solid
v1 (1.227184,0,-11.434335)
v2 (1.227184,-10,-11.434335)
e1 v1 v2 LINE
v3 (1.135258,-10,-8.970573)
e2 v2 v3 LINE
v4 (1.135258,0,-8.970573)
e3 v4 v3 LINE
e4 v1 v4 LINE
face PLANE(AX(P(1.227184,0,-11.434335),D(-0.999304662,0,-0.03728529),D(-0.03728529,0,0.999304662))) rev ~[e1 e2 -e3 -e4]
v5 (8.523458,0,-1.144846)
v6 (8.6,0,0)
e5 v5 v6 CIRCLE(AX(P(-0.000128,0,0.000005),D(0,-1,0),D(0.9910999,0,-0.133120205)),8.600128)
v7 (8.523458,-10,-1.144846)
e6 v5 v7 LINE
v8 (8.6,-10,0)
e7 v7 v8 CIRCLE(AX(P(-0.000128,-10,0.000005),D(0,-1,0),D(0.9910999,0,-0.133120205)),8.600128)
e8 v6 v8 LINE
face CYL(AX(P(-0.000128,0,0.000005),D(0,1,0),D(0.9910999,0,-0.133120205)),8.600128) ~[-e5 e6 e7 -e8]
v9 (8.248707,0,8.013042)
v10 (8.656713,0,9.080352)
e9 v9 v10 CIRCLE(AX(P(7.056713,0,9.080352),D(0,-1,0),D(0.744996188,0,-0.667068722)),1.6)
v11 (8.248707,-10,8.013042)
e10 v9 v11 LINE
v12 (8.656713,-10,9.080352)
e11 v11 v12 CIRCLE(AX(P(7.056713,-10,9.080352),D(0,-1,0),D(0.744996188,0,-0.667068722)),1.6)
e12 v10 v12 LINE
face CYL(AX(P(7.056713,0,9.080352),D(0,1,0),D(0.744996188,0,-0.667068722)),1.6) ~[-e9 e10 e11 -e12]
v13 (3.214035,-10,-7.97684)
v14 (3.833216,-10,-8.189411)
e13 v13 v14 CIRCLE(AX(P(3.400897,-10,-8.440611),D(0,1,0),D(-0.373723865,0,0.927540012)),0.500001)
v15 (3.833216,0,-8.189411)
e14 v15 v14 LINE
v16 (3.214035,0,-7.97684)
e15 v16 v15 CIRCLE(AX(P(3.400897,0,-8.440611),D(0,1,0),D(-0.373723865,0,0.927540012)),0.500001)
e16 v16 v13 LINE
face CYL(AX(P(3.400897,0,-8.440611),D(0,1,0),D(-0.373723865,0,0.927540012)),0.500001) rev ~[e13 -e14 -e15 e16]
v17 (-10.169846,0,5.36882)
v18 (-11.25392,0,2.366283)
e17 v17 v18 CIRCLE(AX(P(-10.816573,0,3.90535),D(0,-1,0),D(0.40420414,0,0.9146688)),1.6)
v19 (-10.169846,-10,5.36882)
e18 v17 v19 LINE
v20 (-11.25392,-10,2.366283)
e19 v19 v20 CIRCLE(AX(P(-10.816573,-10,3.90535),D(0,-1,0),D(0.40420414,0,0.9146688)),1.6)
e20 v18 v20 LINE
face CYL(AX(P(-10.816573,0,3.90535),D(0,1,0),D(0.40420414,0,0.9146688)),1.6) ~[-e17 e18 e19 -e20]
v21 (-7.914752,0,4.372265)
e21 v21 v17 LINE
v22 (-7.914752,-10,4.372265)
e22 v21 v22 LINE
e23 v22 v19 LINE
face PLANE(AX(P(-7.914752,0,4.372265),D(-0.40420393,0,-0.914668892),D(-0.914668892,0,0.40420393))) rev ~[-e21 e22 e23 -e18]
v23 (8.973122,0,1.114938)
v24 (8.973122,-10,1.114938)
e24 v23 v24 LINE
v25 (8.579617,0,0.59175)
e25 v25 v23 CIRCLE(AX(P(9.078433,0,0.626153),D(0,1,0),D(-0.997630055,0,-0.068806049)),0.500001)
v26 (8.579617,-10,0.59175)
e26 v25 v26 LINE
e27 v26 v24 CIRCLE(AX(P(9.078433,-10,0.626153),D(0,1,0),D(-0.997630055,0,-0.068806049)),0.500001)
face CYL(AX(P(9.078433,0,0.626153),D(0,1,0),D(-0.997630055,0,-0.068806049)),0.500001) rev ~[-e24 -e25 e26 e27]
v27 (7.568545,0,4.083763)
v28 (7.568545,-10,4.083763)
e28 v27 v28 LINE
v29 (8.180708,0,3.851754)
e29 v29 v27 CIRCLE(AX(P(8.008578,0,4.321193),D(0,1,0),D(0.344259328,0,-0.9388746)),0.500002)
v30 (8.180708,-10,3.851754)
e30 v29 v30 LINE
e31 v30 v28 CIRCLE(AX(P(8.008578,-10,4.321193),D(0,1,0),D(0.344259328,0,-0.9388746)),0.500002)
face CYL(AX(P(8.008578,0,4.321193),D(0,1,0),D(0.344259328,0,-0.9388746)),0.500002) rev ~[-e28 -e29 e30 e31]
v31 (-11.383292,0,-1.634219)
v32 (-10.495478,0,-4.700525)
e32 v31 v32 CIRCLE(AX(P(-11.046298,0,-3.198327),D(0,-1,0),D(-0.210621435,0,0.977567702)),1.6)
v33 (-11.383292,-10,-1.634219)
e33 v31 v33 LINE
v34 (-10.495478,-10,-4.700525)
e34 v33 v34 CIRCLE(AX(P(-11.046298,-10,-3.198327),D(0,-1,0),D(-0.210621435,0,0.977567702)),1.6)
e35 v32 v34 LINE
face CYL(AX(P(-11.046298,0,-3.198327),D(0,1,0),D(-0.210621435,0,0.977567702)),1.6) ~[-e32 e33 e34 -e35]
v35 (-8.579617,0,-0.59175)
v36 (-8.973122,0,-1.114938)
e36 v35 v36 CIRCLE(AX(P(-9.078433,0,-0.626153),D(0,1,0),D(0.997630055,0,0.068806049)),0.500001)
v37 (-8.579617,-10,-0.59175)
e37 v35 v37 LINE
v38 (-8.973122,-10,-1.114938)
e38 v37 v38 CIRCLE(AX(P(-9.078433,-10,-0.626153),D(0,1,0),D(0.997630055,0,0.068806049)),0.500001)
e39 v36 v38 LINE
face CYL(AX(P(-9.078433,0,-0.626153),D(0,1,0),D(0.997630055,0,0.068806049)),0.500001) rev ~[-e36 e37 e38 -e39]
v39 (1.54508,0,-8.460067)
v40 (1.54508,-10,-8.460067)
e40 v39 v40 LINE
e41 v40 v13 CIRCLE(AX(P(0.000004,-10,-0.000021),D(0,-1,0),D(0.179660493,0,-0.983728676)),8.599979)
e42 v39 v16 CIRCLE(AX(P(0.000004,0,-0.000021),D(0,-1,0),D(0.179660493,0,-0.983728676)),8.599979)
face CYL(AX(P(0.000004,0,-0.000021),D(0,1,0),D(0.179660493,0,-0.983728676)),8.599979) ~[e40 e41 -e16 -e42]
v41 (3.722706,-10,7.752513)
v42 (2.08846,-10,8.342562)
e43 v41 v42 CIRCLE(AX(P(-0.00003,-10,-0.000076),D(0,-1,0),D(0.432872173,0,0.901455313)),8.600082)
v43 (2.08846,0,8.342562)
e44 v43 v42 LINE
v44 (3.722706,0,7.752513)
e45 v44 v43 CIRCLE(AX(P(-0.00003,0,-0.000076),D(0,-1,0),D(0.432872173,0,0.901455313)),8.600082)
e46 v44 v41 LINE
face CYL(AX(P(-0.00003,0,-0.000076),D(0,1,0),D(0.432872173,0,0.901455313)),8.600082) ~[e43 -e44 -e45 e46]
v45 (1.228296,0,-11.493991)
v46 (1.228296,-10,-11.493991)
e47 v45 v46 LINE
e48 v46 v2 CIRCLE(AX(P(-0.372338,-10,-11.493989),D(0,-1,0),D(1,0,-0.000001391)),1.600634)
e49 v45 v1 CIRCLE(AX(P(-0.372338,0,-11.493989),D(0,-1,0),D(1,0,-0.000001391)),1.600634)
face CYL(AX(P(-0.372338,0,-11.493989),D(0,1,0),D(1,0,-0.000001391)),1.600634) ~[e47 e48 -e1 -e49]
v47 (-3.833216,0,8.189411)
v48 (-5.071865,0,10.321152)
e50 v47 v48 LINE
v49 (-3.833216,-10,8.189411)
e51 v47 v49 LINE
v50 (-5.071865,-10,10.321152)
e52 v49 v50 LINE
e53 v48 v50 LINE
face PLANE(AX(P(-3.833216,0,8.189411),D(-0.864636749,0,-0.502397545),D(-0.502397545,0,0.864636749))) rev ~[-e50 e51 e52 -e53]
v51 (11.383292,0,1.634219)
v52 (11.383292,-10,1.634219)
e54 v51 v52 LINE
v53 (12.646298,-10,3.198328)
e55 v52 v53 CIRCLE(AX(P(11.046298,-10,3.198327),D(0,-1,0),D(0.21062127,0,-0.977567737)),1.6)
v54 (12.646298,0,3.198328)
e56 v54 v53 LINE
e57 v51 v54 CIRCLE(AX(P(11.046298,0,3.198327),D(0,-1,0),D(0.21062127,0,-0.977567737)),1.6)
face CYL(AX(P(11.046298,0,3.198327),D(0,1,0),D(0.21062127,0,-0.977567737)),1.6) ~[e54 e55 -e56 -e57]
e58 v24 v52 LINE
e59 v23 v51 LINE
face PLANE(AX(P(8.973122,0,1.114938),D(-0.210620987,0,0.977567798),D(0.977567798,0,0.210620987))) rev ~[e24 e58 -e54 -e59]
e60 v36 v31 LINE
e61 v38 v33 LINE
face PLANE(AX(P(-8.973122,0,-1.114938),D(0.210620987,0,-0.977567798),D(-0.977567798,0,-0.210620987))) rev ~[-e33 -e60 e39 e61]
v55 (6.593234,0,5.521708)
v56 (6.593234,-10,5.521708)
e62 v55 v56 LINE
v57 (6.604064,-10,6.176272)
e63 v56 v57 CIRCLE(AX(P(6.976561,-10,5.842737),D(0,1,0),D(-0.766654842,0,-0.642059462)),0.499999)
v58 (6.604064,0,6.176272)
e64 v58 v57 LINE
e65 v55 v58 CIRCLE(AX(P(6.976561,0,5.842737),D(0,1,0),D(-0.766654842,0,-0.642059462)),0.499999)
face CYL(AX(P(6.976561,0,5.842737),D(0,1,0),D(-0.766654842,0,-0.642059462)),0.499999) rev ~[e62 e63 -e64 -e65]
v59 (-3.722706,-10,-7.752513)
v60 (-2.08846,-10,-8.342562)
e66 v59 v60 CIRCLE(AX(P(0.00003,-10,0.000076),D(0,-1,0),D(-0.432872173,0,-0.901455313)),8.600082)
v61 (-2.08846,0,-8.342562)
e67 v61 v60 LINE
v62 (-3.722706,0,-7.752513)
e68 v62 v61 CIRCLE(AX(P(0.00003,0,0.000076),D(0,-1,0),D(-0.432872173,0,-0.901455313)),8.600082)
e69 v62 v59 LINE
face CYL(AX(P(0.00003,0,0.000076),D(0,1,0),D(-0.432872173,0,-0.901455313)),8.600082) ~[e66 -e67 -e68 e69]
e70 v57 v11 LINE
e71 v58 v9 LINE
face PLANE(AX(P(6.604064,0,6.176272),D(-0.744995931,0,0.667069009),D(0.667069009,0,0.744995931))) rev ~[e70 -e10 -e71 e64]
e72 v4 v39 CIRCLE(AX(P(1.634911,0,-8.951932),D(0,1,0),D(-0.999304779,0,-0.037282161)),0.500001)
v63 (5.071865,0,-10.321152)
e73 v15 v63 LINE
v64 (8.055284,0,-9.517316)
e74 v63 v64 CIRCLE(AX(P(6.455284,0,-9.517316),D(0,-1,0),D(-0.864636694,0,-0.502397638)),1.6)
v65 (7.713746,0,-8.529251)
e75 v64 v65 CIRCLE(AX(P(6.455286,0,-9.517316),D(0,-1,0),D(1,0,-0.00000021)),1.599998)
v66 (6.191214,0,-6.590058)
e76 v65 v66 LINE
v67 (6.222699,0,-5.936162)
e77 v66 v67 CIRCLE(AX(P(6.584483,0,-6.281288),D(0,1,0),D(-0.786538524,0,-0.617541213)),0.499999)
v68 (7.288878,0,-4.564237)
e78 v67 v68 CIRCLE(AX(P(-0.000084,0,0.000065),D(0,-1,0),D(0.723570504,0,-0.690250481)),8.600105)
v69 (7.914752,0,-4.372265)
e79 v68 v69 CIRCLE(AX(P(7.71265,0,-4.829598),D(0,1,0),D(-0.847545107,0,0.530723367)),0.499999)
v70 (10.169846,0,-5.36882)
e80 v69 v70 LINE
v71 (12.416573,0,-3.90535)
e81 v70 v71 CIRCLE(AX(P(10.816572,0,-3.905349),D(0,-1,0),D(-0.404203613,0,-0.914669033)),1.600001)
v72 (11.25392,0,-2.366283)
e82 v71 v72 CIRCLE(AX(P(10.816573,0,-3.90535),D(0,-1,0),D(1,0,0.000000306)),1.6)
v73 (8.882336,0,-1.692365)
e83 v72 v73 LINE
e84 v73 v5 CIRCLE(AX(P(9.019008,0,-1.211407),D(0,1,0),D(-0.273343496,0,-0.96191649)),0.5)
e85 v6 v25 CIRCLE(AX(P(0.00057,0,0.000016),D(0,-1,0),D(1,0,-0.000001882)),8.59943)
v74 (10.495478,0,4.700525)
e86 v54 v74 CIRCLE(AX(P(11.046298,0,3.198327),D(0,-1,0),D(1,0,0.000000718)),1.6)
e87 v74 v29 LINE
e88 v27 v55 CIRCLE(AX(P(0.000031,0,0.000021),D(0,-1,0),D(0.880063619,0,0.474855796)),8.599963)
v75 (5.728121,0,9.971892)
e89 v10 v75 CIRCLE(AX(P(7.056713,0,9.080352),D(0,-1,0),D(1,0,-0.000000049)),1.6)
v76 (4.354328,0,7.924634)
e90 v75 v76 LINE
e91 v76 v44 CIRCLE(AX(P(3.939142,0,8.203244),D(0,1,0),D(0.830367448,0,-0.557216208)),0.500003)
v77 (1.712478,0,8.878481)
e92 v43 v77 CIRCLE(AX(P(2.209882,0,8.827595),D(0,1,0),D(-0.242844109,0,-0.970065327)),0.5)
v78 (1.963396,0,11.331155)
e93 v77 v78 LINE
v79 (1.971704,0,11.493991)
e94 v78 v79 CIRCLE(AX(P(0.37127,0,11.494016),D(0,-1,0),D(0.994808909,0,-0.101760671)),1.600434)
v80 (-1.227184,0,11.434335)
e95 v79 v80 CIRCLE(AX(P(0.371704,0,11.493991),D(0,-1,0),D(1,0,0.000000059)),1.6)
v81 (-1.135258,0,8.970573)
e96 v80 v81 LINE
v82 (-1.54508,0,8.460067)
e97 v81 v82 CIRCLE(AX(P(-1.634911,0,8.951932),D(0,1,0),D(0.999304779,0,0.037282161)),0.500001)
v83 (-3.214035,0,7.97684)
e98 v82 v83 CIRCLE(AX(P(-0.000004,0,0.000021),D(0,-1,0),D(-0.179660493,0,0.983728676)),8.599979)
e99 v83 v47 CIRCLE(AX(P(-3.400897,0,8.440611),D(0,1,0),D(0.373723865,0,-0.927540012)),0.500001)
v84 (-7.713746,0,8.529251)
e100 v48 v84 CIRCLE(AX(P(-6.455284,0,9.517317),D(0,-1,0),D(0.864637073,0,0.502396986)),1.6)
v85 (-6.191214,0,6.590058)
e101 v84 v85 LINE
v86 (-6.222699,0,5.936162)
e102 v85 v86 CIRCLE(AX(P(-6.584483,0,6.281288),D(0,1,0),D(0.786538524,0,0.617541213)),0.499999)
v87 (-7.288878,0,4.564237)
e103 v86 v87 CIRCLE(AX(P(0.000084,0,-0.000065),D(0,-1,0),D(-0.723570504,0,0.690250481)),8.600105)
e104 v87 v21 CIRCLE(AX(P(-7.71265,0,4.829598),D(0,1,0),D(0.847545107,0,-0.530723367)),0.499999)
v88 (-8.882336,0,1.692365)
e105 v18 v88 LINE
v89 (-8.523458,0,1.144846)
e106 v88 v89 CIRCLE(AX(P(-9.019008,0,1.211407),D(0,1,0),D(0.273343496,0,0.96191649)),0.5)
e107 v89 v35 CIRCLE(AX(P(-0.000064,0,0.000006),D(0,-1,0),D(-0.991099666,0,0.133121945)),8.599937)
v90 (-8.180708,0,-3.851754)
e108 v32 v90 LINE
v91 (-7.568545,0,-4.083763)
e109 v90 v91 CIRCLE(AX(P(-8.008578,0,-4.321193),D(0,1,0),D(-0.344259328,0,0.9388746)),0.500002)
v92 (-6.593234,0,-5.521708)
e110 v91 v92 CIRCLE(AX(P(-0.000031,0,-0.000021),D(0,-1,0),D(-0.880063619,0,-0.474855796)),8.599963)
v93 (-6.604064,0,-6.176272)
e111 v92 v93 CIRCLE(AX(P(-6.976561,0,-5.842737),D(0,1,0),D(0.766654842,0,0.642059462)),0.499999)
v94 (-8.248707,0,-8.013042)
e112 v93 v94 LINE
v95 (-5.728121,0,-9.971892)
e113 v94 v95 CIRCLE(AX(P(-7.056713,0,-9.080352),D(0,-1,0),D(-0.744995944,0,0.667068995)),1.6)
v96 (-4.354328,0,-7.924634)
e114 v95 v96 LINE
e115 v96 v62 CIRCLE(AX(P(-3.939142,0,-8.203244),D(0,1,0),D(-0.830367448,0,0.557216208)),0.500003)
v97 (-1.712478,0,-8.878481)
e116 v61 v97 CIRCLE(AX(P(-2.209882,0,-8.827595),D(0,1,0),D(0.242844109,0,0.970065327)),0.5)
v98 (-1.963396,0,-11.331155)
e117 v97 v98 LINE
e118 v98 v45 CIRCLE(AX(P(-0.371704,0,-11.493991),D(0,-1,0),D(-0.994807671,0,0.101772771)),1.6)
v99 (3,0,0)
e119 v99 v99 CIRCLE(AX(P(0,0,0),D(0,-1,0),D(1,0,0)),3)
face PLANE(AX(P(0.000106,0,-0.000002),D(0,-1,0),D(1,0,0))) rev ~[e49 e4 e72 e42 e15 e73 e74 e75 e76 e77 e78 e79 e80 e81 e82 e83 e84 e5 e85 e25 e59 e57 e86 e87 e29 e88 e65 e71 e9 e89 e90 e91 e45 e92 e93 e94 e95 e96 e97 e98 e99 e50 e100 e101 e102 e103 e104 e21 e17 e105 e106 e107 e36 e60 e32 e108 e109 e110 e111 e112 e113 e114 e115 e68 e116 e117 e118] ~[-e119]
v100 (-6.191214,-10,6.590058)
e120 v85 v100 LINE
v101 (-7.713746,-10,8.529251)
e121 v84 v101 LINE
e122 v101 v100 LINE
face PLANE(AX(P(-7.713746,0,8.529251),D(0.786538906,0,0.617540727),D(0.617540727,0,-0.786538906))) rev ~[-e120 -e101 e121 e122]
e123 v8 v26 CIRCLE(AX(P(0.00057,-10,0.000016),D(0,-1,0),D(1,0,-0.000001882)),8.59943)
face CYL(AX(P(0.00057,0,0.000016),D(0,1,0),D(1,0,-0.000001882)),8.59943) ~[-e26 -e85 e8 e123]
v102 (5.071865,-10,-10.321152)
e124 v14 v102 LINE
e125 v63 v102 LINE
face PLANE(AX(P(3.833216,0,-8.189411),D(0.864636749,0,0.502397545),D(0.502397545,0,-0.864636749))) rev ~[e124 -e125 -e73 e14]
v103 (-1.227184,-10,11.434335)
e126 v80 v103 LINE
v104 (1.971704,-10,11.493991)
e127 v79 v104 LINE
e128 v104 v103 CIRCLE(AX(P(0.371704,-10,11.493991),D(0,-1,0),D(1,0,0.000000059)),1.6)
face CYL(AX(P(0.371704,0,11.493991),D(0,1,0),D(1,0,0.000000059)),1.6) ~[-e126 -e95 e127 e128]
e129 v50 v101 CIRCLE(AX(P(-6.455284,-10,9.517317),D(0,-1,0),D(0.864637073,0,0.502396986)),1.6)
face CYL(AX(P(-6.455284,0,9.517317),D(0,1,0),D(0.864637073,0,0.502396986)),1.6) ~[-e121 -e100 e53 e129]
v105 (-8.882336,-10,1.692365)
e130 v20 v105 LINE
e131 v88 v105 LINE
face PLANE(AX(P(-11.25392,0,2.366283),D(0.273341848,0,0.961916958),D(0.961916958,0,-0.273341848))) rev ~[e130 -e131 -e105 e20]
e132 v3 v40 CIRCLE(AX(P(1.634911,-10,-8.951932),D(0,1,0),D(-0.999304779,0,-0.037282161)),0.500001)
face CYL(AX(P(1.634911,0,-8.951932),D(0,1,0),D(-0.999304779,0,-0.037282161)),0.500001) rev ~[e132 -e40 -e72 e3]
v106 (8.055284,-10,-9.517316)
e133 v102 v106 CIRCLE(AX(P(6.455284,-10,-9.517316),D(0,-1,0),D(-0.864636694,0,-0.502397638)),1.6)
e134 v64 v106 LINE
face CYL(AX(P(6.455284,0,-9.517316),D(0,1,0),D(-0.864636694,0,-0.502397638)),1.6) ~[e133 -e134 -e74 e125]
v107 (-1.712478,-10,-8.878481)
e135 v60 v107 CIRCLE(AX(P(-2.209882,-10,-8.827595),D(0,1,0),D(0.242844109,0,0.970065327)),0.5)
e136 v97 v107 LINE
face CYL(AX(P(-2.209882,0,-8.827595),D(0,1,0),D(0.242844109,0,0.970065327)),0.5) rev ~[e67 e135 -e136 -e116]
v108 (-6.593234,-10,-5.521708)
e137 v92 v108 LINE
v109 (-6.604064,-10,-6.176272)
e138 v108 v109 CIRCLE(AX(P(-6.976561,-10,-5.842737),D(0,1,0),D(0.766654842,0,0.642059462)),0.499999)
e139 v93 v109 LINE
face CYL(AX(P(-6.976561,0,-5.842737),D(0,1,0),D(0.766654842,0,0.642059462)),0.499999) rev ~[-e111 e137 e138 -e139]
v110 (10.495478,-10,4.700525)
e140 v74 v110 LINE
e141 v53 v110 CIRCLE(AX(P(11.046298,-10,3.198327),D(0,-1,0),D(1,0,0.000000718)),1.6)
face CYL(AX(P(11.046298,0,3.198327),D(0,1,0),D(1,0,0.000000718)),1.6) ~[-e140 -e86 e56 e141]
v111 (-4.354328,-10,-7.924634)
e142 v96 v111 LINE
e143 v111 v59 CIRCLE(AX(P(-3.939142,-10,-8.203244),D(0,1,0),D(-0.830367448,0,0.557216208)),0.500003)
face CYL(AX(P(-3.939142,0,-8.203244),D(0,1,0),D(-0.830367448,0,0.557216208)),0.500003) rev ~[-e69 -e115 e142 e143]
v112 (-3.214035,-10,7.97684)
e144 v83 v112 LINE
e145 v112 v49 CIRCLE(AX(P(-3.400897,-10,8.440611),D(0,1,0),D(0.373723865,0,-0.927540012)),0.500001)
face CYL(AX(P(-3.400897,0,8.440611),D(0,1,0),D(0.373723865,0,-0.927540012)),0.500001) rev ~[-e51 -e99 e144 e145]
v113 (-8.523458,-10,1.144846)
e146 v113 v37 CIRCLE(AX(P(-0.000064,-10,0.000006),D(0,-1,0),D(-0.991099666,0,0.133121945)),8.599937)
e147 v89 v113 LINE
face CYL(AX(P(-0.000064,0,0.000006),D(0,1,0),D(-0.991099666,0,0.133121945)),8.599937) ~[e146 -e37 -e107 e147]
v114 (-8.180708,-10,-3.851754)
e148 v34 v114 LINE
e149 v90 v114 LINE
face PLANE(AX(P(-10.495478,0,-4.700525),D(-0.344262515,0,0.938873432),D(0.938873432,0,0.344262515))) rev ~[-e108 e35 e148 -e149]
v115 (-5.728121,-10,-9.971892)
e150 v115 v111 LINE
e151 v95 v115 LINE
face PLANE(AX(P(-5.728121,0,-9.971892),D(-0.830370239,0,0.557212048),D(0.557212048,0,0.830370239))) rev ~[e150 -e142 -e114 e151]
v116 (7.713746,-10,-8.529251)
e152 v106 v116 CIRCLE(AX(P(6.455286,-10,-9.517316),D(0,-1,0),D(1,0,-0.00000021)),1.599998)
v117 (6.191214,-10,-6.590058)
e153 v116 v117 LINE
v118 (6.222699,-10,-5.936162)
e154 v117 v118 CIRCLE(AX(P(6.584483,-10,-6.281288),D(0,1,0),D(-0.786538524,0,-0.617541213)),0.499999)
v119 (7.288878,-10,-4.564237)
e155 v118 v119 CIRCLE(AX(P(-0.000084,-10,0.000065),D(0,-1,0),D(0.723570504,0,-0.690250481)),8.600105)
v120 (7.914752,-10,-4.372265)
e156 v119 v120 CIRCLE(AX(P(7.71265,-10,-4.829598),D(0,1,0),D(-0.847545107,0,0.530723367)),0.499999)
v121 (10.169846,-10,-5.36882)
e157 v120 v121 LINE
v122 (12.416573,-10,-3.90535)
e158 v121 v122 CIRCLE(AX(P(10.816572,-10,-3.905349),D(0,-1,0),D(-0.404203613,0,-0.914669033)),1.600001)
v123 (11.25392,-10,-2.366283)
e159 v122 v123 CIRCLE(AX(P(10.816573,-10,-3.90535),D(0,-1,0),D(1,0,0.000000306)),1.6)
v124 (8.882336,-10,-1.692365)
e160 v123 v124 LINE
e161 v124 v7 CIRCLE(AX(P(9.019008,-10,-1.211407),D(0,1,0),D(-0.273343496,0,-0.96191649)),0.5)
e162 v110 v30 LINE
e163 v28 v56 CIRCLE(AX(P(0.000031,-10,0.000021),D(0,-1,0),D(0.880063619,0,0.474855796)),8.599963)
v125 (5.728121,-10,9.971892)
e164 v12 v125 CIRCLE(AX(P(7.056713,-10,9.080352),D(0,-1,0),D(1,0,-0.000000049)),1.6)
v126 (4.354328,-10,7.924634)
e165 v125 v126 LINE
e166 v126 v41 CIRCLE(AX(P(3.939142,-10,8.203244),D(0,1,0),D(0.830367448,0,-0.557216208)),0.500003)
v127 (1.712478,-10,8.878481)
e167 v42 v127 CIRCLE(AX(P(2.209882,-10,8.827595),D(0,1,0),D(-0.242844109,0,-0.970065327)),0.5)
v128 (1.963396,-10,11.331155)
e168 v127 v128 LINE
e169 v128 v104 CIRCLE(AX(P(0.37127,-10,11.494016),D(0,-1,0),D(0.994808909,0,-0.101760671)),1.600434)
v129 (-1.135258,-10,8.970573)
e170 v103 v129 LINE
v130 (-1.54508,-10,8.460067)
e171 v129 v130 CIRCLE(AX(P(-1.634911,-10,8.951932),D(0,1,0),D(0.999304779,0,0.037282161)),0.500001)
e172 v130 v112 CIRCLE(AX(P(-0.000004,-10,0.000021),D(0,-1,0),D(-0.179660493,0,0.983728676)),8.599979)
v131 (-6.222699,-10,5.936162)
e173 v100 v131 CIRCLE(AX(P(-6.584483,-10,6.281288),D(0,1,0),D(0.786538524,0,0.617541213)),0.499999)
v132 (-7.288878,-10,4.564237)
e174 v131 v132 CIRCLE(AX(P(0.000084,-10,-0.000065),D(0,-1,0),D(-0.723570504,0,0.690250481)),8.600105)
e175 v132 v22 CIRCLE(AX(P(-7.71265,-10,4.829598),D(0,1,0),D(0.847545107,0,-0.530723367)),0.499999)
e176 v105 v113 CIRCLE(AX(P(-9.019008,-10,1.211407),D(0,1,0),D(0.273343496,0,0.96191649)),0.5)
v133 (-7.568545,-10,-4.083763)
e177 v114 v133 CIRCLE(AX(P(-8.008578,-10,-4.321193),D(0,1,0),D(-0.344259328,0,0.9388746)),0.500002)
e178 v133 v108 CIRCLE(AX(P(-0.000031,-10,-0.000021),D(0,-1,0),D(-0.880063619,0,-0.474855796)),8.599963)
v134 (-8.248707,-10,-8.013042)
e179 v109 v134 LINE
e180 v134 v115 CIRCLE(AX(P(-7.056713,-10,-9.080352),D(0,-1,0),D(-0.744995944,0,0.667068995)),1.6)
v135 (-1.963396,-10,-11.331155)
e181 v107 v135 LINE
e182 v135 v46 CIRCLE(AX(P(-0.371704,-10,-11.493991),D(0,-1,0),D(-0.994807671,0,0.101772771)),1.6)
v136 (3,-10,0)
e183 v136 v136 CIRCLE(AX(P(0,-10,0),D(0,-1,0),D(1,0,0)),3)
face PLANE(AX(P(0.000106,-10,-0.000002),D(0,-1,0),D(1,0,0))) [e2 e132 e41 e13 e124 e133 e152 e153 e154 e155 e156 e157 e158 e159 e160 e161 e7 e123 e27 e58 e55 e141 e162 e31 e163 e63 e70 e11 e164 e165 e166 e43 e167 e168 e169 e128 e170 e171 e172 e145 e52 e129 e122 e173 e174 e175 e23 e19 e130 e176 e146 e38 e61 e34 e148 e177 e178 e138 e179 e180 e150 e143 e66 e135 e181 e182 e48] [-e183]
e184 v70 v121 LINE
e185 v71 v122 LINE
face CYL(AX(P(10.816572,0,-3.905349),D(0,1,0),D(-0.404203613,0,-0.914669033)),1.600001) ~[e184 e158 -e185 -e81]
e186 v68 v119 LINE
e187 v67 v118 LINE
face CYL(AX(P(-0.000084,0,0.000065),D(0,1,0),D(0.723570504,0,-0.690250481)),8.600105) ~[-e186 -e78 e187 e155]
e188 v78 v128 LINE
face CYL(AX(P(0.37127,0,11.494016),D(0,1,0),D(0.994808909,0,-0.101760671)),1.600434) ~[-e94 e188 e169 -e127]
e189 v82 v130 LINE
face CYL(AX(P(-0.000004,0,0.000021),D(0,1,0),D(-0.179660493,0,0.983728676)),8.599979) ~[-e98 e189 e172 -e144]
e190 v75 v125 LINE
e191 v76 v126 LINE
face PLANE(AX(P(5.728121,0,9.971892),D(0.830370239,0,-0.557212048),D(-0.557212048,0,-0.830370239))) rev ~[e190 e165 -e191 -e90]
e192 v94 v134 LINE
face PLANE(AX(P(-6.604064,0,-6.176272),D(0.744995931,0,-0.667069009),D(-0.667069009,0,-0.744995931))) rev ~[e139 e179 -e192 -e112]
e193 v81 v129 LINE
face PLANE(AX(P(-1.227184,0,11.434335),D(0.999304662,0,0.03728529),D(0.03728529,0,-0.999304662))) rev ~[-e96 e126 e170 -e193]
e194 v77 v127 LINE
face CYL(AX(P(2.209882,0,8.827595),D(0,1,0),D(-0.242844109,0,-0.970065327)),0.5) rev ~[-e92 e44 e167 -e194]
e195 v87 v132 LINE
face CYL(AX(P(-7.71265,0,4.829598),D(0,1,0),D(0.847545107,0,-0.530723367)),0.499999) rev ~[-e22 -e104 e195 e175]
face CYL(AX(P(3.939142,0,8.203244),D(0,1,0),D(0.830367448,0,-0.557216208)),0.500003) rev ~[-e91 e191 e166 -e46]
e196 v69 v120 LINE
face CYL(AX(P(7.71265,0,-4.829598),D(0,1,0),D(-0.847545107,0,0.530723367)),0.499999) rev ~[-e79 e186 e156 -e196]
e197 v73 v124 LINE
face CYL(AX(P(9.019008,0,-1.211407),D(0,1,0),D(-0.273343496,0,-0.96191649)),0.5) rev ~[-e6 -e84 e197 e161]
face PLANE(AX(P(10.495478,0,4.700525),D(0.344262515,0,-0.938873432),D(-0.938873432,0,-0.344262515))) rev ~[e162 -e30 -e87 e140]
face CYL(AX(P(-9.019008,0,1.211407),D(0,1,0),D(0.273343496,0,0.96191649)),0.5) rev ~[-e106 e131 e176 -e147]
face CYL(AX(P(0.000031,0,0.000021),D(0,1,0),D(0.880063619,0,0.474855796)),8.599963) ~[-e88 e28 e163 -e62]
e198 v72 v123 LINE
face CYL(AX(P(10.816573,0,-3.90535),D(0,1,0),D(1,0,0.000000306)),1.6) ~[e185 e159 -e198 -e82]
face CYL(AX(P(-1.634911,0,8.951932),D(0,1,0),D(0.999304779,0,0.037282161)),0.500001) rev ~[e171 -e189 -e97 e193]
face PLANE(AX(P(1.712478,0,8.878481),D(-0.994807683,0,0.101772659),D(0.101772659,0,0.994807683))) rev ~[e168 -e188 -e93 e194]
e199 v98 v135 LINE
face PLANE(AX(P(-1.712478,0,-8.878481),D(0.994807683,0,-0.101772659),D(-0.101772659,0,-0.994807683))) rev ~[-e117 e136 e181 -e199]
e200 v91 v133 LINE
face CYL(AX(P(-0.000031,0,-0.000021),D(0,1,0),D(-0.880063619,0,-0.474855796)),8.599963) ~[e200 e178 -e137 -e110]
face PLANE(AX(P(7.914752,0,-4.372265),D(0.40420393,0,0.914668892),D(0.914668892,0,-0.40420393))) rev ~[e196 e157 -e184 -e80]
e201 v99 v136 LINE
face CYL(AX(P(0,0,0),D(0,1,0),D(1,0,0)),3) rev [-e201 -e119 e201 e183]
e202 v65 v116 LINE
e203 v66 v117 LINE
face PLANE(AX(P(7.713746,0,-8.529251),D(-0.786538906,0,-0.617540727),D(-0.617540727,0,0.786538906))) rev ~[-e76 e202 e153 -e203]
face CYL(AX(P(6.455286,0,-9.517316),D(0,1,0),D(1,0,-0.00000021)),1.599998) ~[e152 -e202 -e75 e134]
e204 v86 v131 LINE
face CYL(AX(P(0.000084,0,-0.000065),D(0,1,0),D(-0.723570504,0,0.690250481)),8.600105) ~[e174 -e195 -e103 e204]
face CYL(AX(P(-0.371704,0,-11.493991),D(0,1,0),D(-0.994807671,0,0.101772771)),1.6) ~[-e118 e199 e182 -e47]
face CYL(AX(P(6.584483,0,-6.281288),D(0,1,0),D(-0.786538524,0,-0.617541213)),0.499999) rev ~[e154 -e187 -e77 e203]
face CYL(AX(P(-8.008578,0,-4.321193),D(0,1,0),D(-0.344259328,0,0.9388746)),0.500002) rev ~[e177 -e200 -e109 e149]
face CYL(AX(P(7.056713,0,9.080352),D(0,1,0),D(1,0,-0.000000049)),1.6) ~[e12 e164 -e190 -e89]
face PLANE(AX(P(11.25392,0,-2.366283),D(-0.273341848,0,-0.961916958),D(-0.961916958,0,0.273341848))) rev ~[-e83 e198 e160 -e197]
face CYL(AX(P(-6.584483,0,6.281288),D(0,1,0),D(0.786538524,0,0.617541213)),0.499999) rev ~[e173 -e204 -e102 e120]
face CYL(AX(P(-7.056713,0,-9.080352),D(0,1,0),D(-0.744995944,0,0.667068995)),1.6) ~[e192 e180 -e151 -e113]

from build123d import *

# Parameters (mm, degrees)
F0_R     = 3
F1_DEPTH = 10


with BuildPart() as f1:
    # F0 (on Front) → F1 (new body)
    with BuildSketch(Plane.XZ):
        with BuildLine():
            ThreePointArc((8.523458, -1.144846), (8.580843, -0.573701), (8.6, 0))
            ThreePointArc((8.6, 0), (8.594903, 0.296051), (8.579617, 0.59175))
            ThreePointArc((8.579617, 0.59175), (8.26071, 2.391793), (7.568545, 4.083763))
            ThreePointArc((7.568545, 4.083763), (7.117297, 4.82743), (6.593234, 5.521708))
            ThreePointArc((6.593234, 5.521708), (5.277194, 6.790524), (3.722706, 7.752513))
            ThreePointArc((3.722706, 7.752513), (2.920522, 8.088915), (2.08846, 8.342562))
            ThreePointArc((2.08846, 8.342562), (0.27797, 8.595507), (-1.54508, 8.460067))
            ThreePointArc((-1.54508, 8.460067), (-2.391793, 8.26071), (-3.214035, 7.97684))
            ThreePointArc((-3.214035, 7.97684), (-4.82743, 7.117297), (-6.222699, 5.936162))
            ThreePointArc((-6.222699, 5.936162), (-6.790524, 5.277194), (-7.288878, 4.564237))
            ThreePointArc((-7.288878, 4.564237), (-8.088915, 2.920522), (-8.523458, 1.144846))
            ThreePointArc((-8.523458, 1.144846), (-8.595507, 0.27797), (-8.579617, -0.59175))
            ThreePointArc((-8.579617, -0.59175), (-8.26071, -2.391793), (-7.568545, -4.083763))
            ThreePointArc((-7.568545, -4.083763), (-7.117297, -4.82743), (-6.593234, -5.521708))
            ThreePointArc((-6.593234, -5.521708), (-5.277194, -6.790524), (-3.722706, -7.752513))
            ThreePointArc((-3.722706, -7.752513), (-2.920522, -8.088915), (-2.08846, -8.342562))
            ThreePointArc((-2.08846, -8.342562), (-0.27797, -8.595507), (1.54508, -8.460067))
            ThreePointArc((1.54508, -8.460067), (2.391793, -8.26071), (3.214035, -7.97684))
            ThreePointArc((3.214035, -7.97684), (4.82743, -7.117297), (6.222699, -5.936162))
            ThreePointArc((6.222699, -5.936162), (6.790524, -5.277194), (7.288878, -4.564237))
            ThreePointArc((7.288878, -4.564237), (8.088915, -2.920522), (8.523458, -1.144846))
        make_face()
        Circle(F0_R, mode=Mode.SUBTRACT)
        with BuildLine():
            ThreePointArc((7.568545, 4.083763), (8.26071, 2.391793), (8.579617, 0.59175))
            ThreePointArc((8.579617, 0.59175), (8.678841, 0.926698), (8.973122, 1.114938))
            Line((8.973122, 1.114938), (11.383292, 1.634219))
            ThreePointArc((11.383292, 1.634219), (9.509422, 2.753343), (10.495478, 4.700525))
            Line((10.495478, 4.700525), (8.180708, 3.851754))
            ThreePointArc((8.180708, 3.851754), (7.831378, 3.853644), (7.568545, 4.083763))
        make_face()
        with BuildLine():
            ThreePointArc((8.882336, -1.692365), (8.600833, -1.485505), (8.523458, -1.144846))
            ThreePointArc((8.523458, -1.144846), (8.088915, -2.920522), (7.288878, -4.564237))
            ThreePointArc((7.288878, -4.564237), (7.566029, -4.35158), (7.914752, -4.372265))
            Line((7.914752, -4.372265), (10.169846, -5.36882))
            ThreePointArc((10.169846, -5.36882), (9.311658, -3.361997), (11.25392, -2.366283))
            Line((11.25392, -2.366283), (8.882336, -1.692365))
        make_face()
        with BuildLine():
            ThreePointArc((3.722706, 7.752513), (5.277194, 6.790524), (6.593234, 5.521708))
            ThreePointArc((6.593234, 5.521708), (6.47663, 5.851009), (6.604064, 6.176272))
            Line((6.604064, 6.176272), (8.248707, 8.013042))
            ThreePointArc((8.248707, 8.013042), (6.07491, 7.816999), (5.728121, 9.971892))
            Line((5.728121, 9.971892), (4.354328, 7.924634))
            ThreePointArc((4.354328, 7.924634), (4.070602, 7.720832), (3.722706, 7.752513))
        make_face()
        with BuildLine():
            ThreePointArc((10.495478, 4.700525), (9.509422, 2.753343), (11.383292, 1.634219))
            ThreePointArc((11.383292, 1.634219), (12.291125, 2.193138), (12.646298, 3.198328))
            ThreePointArc((12.646298, 3.198328), (11.962455, 4.510065), (10.495478, 4.700525))
        make_face()
        with BuildLine():
            ThreePointArc((6.191214, -6.590058), (6.085062, -6.257241), (6.222699, -5.936162))
            ThreePointArc((6.222699, -5.936162), (4.82743, -7.117297), (3.214035, -7.97684))
            ThreePointArc((3.214035, -7.97684), (3.563252, -7.967703), (3.833216, -8.189411))
            Line((3.833216, -8.189411), (5.071865, -10.321152))
            ThreePointArc((5.071865, -10.321152), (5.557158, -8.193168), (7.713746, -8.529251))
            Line((7.713746, -8.529251), (6.191214, -6.590058))
        make_face()
        with BuildLine():
            ThreePointArc((12.416573, -3.90535), (12.093239, -2.940921), (11.25392, -2.366283))
            ThreePointArc((11.25392, -2.366283), (9.311658, -3.361997), (10.169846, -5.36882))
            ThreePointArc((10.169846, -5.36882), (11.689853, -5.246014), (12.416573, -3.90535))
        make_face()
        with BuildLine():
            ThreePointArc((-1.54508, 8.460067), (0.27797, 8.595507), (2.08846, 8.342562))
            ThreePointArc((2.08846, 8.342562), (1.800567, 8.540434), (1.712478, 8.878481))
            Line((1.712478, 8.878481), (1.963396, 11.331155))
            ThreePointArc((1.963396, 11.331155), (0.319988, 9.894827), (-1.227184, 11.434335))
            Line((-1.227184, 11.434335), (-1.135258, 8.970573))
            ThreePointArc((-1.135258, 8.970573), (-1.245005, 8.638924), (-1.54508, 8.460067))
        make_face()
        with BuildLine():
            ThreePointArc((5.728121, 9.971892), (6.07491, 7.816999), (8.248707, 8.013042))
            ThreePointArc((8.248707, 8.013042), (8.551235, 8.509034), (8.656713, 9.080352))
            ThreePointArc((8.656713, 9.080352), (7.522681, 10.610997), (5.728121, 9.971892))
        make_face()
        with BuildLine():
            ThreePointArc((1.135258, -8.970573), (1.245005, -8.638924), (1.54508, -8.460067))
            ThreePointArc((1.54508, -8.460067), (-0.27797, -8.595507), (-2.08846, -8.342562))
            ThreePointArc((-2.08846, -8.342562), (-1.800567, -8.540434), (-1.712478, -8.878481))
            Line((-1.712478, -8.878481), (-1.963396, -11.331155))
            ThreePointArc((-1.963396, -11.331155), (-0.319988, -9.894827), (1.227184, -11.434335))
            Line((1.227184, -11.434335), (1.135258, -8.970573))
        make_face()
        with BuildLine():
            ThreePointArc((8.055284, -9.517316), (7.967491, -8.994602), (7.713746, -8.529251))
            ThreePointArc((7.713746, -8.529251), (5.557158, -8.193168), (5.071865, -10.321152))
            ThreePointArc((5.071865, -10.321152), (6.871535, -11.062222), (8.055284, -9.517316))
        make_face()
        with BuildLine():
            ThreePointArc((-6.222699, 5.936162), (-4.82743, 7.117297), (-3.214035, 7.97684))
            ThreePointArc((-3.214035, 7.97684), (-3.563252, 7.967703), (-3.833216, 8.189411))
            Line((-3.833216, 8.189411), (-5.071865, 10.321152))
            ThreePointArc((-5.071865, 10.321152), (-4.910378, 9.933567), (-4.855284, 9.517316))
            ThreePointArc((-4.855284, 9.517316), (-5.93257, 8.005109), (-7.713746, 8.529251))
            Line((-7.713746, 8.529251), (-6.191214, 6.590058))
            ThreePointArc((-6.191214, 6.590058), (-6.085062, 6.257241), (-6.222699, 5.936162))
        make_face()
        with BuildLine():
            ThreePointArc((-1.227184, 11.434335), (0.319988, 9.894827), (1.963396, 11.331155))
            ThreePointArc((1.963396, 11.331155), (1.969625, 11.412467), (1.971704, 11.493991))
            ThreePointArc((1.971704, 11.493991), (0.34187, 13.093713), (-1.227184, 11.434335))
        make_face()
        with BuildLine():
            ThreePointArc((-4.354328, -7.924634), (-4.070602, -7.720832), (-3.722706, -7.752513))
            ThreePointArc((-3.722706, -7.752513), (-5.277194, -6.790524), (-6.593234, -5.521708))
            ThreePointArc((-6.593234, -5.521708), (-6.47663, -5.851009), (-6.604064, -6.176272))
            Line((-6.604064, -6.176272), (-8.248707, -8.013042))
            ThreePointArc((-8.248707, -8.013042), (-6.485394, -7.585831), (-5.456713, -9.080352))
            ThreePointArc((-5.456713, -9.080352), (-5.526068, -9.546321), (-5.728121, -9.971892))
            Line((-5.728121, -9.971892), (-4.354328, -7.924634))
        make_face()
        with BuildLine():
            ThreePointArc((1.228296, -11.493991), (1.228018, -11.464158), (1.227184, -11.434335))
            ThreePointArc((1.227184, -11.434335), (-0.319988, -9.894827), (-1.963396, -11.331155))
            ThreePointArc((-1.963396, -11.331155), (-0.453228, -13.091913), (1.228296, -11.493991))
        make_face()
        with BuildLine():
            ThreePointArc((-8.523458, 1.144846), (-8.088915, 2.920522), (-7.288878, 4.564237))
            ThreePointArc((-7.288878, 4.564237), (-7.566029, 4.35158), (-7.914752, 4.372265))
            Line((-7.914752, 4.372265), (-10.169846, 5.36882))
            ThreePointArc((-10.169846, 5.36882), (-9.475908, 4.77863), (-9.216573, 3.90535))
            ThreePointArc((-9.216573, 3.90535), (-9.852144, 2.628683), (-11.25392, 2.366283))
            Line((-11.25392, 2.366283), (-8.882336, 1.692365))
            ThreePointArc((-8.882336, 1.692365), (-8.600833, 1.485505), (-8.523458, 1.144846))
        make_face()
        with BuildLine():
            ThreePointArc((-4.855284, 9.517316), (-4.910378, 9.933567), (-5.071865, 10.321152))
            ThreePointArc((-5.071865, 10.321152), (-7.353411, 10.841465), (-7.713746, 8.529251))
            ThreePointArc((-7.713746, 8.529251), (-5.93257, 8.005109), (-4.855284, 9.517316))
        make_face()
        with BuildLine():
            ThreePointArc((-8.180708, -3.851754), (-7.831378, -3.853644), (-7.568545, -4.083763))
            ThreePointArc((-7.568545, -4.083763), (-8.26071, -2.391793), (-8.579617, -0.59175))
            ThreePointArc((-8.579617, -0.59175), (-8.678841, -0.926698), (-8.973122, -1.114938))
            Line((-8.973122, -1.114938), (-11.383292, -1.634219))
            ThreePointArc((-11.383292, -1.634219), (-10.041109, -1.9535), (-9.446298, -3.198328))
            ThreePointArc((-9.446298, -3.198328), (-9.73456, -4.114485), (-10.495478, -4.700525))
            Line((-10.495478, -4.700525), (-8.180708, -3.851754))
        make_face()
        with BuildLine():
            ThreePointArc((-8.248707, -8.013042), (-8.038517, -10.343706), (-5.728121, -9.971892))
            ThreePointArc((-5.728121, -9.971892), (-5.526068, -9.546321), (-5.456713, -9.080352))
            ThreePointArc((-5.456713, -9.080352), (-6.485394, -7.585831), (-8.248707, -8.013042))
        make_face()
        with BuildLine():
            ThreePointArc((-9.216573, 3.90535), (-9.475908, 4.77863), (-10.169846, 5.36882))
            ThreePointArc((-10.169846, 5.36882), (-12.321487, 4.448703), (-11.25392, 2.366283))
            ThreePointArc((-11.25392, 2.366283), (-9.852144, 2.628683), (-9.216573, 3.90535))
        make_face()
        with BuildLine():
            ThreePointArc((-11.383292, -1.634219), (-12.583174, -3.643312), (-10.495478, -4.700525))
            ThreePointArc((-10.495478, -4.700525), (-9.73456, -4.114485), (-9.446298, -3.198328))
            ThreePointArc((-9.446298, -3.198328), (-10.041109, -1.9535), (-11.383292, -1.634219))
        make_face()
    extrude(amount=F1_DEPTH)


solid = f1.part
